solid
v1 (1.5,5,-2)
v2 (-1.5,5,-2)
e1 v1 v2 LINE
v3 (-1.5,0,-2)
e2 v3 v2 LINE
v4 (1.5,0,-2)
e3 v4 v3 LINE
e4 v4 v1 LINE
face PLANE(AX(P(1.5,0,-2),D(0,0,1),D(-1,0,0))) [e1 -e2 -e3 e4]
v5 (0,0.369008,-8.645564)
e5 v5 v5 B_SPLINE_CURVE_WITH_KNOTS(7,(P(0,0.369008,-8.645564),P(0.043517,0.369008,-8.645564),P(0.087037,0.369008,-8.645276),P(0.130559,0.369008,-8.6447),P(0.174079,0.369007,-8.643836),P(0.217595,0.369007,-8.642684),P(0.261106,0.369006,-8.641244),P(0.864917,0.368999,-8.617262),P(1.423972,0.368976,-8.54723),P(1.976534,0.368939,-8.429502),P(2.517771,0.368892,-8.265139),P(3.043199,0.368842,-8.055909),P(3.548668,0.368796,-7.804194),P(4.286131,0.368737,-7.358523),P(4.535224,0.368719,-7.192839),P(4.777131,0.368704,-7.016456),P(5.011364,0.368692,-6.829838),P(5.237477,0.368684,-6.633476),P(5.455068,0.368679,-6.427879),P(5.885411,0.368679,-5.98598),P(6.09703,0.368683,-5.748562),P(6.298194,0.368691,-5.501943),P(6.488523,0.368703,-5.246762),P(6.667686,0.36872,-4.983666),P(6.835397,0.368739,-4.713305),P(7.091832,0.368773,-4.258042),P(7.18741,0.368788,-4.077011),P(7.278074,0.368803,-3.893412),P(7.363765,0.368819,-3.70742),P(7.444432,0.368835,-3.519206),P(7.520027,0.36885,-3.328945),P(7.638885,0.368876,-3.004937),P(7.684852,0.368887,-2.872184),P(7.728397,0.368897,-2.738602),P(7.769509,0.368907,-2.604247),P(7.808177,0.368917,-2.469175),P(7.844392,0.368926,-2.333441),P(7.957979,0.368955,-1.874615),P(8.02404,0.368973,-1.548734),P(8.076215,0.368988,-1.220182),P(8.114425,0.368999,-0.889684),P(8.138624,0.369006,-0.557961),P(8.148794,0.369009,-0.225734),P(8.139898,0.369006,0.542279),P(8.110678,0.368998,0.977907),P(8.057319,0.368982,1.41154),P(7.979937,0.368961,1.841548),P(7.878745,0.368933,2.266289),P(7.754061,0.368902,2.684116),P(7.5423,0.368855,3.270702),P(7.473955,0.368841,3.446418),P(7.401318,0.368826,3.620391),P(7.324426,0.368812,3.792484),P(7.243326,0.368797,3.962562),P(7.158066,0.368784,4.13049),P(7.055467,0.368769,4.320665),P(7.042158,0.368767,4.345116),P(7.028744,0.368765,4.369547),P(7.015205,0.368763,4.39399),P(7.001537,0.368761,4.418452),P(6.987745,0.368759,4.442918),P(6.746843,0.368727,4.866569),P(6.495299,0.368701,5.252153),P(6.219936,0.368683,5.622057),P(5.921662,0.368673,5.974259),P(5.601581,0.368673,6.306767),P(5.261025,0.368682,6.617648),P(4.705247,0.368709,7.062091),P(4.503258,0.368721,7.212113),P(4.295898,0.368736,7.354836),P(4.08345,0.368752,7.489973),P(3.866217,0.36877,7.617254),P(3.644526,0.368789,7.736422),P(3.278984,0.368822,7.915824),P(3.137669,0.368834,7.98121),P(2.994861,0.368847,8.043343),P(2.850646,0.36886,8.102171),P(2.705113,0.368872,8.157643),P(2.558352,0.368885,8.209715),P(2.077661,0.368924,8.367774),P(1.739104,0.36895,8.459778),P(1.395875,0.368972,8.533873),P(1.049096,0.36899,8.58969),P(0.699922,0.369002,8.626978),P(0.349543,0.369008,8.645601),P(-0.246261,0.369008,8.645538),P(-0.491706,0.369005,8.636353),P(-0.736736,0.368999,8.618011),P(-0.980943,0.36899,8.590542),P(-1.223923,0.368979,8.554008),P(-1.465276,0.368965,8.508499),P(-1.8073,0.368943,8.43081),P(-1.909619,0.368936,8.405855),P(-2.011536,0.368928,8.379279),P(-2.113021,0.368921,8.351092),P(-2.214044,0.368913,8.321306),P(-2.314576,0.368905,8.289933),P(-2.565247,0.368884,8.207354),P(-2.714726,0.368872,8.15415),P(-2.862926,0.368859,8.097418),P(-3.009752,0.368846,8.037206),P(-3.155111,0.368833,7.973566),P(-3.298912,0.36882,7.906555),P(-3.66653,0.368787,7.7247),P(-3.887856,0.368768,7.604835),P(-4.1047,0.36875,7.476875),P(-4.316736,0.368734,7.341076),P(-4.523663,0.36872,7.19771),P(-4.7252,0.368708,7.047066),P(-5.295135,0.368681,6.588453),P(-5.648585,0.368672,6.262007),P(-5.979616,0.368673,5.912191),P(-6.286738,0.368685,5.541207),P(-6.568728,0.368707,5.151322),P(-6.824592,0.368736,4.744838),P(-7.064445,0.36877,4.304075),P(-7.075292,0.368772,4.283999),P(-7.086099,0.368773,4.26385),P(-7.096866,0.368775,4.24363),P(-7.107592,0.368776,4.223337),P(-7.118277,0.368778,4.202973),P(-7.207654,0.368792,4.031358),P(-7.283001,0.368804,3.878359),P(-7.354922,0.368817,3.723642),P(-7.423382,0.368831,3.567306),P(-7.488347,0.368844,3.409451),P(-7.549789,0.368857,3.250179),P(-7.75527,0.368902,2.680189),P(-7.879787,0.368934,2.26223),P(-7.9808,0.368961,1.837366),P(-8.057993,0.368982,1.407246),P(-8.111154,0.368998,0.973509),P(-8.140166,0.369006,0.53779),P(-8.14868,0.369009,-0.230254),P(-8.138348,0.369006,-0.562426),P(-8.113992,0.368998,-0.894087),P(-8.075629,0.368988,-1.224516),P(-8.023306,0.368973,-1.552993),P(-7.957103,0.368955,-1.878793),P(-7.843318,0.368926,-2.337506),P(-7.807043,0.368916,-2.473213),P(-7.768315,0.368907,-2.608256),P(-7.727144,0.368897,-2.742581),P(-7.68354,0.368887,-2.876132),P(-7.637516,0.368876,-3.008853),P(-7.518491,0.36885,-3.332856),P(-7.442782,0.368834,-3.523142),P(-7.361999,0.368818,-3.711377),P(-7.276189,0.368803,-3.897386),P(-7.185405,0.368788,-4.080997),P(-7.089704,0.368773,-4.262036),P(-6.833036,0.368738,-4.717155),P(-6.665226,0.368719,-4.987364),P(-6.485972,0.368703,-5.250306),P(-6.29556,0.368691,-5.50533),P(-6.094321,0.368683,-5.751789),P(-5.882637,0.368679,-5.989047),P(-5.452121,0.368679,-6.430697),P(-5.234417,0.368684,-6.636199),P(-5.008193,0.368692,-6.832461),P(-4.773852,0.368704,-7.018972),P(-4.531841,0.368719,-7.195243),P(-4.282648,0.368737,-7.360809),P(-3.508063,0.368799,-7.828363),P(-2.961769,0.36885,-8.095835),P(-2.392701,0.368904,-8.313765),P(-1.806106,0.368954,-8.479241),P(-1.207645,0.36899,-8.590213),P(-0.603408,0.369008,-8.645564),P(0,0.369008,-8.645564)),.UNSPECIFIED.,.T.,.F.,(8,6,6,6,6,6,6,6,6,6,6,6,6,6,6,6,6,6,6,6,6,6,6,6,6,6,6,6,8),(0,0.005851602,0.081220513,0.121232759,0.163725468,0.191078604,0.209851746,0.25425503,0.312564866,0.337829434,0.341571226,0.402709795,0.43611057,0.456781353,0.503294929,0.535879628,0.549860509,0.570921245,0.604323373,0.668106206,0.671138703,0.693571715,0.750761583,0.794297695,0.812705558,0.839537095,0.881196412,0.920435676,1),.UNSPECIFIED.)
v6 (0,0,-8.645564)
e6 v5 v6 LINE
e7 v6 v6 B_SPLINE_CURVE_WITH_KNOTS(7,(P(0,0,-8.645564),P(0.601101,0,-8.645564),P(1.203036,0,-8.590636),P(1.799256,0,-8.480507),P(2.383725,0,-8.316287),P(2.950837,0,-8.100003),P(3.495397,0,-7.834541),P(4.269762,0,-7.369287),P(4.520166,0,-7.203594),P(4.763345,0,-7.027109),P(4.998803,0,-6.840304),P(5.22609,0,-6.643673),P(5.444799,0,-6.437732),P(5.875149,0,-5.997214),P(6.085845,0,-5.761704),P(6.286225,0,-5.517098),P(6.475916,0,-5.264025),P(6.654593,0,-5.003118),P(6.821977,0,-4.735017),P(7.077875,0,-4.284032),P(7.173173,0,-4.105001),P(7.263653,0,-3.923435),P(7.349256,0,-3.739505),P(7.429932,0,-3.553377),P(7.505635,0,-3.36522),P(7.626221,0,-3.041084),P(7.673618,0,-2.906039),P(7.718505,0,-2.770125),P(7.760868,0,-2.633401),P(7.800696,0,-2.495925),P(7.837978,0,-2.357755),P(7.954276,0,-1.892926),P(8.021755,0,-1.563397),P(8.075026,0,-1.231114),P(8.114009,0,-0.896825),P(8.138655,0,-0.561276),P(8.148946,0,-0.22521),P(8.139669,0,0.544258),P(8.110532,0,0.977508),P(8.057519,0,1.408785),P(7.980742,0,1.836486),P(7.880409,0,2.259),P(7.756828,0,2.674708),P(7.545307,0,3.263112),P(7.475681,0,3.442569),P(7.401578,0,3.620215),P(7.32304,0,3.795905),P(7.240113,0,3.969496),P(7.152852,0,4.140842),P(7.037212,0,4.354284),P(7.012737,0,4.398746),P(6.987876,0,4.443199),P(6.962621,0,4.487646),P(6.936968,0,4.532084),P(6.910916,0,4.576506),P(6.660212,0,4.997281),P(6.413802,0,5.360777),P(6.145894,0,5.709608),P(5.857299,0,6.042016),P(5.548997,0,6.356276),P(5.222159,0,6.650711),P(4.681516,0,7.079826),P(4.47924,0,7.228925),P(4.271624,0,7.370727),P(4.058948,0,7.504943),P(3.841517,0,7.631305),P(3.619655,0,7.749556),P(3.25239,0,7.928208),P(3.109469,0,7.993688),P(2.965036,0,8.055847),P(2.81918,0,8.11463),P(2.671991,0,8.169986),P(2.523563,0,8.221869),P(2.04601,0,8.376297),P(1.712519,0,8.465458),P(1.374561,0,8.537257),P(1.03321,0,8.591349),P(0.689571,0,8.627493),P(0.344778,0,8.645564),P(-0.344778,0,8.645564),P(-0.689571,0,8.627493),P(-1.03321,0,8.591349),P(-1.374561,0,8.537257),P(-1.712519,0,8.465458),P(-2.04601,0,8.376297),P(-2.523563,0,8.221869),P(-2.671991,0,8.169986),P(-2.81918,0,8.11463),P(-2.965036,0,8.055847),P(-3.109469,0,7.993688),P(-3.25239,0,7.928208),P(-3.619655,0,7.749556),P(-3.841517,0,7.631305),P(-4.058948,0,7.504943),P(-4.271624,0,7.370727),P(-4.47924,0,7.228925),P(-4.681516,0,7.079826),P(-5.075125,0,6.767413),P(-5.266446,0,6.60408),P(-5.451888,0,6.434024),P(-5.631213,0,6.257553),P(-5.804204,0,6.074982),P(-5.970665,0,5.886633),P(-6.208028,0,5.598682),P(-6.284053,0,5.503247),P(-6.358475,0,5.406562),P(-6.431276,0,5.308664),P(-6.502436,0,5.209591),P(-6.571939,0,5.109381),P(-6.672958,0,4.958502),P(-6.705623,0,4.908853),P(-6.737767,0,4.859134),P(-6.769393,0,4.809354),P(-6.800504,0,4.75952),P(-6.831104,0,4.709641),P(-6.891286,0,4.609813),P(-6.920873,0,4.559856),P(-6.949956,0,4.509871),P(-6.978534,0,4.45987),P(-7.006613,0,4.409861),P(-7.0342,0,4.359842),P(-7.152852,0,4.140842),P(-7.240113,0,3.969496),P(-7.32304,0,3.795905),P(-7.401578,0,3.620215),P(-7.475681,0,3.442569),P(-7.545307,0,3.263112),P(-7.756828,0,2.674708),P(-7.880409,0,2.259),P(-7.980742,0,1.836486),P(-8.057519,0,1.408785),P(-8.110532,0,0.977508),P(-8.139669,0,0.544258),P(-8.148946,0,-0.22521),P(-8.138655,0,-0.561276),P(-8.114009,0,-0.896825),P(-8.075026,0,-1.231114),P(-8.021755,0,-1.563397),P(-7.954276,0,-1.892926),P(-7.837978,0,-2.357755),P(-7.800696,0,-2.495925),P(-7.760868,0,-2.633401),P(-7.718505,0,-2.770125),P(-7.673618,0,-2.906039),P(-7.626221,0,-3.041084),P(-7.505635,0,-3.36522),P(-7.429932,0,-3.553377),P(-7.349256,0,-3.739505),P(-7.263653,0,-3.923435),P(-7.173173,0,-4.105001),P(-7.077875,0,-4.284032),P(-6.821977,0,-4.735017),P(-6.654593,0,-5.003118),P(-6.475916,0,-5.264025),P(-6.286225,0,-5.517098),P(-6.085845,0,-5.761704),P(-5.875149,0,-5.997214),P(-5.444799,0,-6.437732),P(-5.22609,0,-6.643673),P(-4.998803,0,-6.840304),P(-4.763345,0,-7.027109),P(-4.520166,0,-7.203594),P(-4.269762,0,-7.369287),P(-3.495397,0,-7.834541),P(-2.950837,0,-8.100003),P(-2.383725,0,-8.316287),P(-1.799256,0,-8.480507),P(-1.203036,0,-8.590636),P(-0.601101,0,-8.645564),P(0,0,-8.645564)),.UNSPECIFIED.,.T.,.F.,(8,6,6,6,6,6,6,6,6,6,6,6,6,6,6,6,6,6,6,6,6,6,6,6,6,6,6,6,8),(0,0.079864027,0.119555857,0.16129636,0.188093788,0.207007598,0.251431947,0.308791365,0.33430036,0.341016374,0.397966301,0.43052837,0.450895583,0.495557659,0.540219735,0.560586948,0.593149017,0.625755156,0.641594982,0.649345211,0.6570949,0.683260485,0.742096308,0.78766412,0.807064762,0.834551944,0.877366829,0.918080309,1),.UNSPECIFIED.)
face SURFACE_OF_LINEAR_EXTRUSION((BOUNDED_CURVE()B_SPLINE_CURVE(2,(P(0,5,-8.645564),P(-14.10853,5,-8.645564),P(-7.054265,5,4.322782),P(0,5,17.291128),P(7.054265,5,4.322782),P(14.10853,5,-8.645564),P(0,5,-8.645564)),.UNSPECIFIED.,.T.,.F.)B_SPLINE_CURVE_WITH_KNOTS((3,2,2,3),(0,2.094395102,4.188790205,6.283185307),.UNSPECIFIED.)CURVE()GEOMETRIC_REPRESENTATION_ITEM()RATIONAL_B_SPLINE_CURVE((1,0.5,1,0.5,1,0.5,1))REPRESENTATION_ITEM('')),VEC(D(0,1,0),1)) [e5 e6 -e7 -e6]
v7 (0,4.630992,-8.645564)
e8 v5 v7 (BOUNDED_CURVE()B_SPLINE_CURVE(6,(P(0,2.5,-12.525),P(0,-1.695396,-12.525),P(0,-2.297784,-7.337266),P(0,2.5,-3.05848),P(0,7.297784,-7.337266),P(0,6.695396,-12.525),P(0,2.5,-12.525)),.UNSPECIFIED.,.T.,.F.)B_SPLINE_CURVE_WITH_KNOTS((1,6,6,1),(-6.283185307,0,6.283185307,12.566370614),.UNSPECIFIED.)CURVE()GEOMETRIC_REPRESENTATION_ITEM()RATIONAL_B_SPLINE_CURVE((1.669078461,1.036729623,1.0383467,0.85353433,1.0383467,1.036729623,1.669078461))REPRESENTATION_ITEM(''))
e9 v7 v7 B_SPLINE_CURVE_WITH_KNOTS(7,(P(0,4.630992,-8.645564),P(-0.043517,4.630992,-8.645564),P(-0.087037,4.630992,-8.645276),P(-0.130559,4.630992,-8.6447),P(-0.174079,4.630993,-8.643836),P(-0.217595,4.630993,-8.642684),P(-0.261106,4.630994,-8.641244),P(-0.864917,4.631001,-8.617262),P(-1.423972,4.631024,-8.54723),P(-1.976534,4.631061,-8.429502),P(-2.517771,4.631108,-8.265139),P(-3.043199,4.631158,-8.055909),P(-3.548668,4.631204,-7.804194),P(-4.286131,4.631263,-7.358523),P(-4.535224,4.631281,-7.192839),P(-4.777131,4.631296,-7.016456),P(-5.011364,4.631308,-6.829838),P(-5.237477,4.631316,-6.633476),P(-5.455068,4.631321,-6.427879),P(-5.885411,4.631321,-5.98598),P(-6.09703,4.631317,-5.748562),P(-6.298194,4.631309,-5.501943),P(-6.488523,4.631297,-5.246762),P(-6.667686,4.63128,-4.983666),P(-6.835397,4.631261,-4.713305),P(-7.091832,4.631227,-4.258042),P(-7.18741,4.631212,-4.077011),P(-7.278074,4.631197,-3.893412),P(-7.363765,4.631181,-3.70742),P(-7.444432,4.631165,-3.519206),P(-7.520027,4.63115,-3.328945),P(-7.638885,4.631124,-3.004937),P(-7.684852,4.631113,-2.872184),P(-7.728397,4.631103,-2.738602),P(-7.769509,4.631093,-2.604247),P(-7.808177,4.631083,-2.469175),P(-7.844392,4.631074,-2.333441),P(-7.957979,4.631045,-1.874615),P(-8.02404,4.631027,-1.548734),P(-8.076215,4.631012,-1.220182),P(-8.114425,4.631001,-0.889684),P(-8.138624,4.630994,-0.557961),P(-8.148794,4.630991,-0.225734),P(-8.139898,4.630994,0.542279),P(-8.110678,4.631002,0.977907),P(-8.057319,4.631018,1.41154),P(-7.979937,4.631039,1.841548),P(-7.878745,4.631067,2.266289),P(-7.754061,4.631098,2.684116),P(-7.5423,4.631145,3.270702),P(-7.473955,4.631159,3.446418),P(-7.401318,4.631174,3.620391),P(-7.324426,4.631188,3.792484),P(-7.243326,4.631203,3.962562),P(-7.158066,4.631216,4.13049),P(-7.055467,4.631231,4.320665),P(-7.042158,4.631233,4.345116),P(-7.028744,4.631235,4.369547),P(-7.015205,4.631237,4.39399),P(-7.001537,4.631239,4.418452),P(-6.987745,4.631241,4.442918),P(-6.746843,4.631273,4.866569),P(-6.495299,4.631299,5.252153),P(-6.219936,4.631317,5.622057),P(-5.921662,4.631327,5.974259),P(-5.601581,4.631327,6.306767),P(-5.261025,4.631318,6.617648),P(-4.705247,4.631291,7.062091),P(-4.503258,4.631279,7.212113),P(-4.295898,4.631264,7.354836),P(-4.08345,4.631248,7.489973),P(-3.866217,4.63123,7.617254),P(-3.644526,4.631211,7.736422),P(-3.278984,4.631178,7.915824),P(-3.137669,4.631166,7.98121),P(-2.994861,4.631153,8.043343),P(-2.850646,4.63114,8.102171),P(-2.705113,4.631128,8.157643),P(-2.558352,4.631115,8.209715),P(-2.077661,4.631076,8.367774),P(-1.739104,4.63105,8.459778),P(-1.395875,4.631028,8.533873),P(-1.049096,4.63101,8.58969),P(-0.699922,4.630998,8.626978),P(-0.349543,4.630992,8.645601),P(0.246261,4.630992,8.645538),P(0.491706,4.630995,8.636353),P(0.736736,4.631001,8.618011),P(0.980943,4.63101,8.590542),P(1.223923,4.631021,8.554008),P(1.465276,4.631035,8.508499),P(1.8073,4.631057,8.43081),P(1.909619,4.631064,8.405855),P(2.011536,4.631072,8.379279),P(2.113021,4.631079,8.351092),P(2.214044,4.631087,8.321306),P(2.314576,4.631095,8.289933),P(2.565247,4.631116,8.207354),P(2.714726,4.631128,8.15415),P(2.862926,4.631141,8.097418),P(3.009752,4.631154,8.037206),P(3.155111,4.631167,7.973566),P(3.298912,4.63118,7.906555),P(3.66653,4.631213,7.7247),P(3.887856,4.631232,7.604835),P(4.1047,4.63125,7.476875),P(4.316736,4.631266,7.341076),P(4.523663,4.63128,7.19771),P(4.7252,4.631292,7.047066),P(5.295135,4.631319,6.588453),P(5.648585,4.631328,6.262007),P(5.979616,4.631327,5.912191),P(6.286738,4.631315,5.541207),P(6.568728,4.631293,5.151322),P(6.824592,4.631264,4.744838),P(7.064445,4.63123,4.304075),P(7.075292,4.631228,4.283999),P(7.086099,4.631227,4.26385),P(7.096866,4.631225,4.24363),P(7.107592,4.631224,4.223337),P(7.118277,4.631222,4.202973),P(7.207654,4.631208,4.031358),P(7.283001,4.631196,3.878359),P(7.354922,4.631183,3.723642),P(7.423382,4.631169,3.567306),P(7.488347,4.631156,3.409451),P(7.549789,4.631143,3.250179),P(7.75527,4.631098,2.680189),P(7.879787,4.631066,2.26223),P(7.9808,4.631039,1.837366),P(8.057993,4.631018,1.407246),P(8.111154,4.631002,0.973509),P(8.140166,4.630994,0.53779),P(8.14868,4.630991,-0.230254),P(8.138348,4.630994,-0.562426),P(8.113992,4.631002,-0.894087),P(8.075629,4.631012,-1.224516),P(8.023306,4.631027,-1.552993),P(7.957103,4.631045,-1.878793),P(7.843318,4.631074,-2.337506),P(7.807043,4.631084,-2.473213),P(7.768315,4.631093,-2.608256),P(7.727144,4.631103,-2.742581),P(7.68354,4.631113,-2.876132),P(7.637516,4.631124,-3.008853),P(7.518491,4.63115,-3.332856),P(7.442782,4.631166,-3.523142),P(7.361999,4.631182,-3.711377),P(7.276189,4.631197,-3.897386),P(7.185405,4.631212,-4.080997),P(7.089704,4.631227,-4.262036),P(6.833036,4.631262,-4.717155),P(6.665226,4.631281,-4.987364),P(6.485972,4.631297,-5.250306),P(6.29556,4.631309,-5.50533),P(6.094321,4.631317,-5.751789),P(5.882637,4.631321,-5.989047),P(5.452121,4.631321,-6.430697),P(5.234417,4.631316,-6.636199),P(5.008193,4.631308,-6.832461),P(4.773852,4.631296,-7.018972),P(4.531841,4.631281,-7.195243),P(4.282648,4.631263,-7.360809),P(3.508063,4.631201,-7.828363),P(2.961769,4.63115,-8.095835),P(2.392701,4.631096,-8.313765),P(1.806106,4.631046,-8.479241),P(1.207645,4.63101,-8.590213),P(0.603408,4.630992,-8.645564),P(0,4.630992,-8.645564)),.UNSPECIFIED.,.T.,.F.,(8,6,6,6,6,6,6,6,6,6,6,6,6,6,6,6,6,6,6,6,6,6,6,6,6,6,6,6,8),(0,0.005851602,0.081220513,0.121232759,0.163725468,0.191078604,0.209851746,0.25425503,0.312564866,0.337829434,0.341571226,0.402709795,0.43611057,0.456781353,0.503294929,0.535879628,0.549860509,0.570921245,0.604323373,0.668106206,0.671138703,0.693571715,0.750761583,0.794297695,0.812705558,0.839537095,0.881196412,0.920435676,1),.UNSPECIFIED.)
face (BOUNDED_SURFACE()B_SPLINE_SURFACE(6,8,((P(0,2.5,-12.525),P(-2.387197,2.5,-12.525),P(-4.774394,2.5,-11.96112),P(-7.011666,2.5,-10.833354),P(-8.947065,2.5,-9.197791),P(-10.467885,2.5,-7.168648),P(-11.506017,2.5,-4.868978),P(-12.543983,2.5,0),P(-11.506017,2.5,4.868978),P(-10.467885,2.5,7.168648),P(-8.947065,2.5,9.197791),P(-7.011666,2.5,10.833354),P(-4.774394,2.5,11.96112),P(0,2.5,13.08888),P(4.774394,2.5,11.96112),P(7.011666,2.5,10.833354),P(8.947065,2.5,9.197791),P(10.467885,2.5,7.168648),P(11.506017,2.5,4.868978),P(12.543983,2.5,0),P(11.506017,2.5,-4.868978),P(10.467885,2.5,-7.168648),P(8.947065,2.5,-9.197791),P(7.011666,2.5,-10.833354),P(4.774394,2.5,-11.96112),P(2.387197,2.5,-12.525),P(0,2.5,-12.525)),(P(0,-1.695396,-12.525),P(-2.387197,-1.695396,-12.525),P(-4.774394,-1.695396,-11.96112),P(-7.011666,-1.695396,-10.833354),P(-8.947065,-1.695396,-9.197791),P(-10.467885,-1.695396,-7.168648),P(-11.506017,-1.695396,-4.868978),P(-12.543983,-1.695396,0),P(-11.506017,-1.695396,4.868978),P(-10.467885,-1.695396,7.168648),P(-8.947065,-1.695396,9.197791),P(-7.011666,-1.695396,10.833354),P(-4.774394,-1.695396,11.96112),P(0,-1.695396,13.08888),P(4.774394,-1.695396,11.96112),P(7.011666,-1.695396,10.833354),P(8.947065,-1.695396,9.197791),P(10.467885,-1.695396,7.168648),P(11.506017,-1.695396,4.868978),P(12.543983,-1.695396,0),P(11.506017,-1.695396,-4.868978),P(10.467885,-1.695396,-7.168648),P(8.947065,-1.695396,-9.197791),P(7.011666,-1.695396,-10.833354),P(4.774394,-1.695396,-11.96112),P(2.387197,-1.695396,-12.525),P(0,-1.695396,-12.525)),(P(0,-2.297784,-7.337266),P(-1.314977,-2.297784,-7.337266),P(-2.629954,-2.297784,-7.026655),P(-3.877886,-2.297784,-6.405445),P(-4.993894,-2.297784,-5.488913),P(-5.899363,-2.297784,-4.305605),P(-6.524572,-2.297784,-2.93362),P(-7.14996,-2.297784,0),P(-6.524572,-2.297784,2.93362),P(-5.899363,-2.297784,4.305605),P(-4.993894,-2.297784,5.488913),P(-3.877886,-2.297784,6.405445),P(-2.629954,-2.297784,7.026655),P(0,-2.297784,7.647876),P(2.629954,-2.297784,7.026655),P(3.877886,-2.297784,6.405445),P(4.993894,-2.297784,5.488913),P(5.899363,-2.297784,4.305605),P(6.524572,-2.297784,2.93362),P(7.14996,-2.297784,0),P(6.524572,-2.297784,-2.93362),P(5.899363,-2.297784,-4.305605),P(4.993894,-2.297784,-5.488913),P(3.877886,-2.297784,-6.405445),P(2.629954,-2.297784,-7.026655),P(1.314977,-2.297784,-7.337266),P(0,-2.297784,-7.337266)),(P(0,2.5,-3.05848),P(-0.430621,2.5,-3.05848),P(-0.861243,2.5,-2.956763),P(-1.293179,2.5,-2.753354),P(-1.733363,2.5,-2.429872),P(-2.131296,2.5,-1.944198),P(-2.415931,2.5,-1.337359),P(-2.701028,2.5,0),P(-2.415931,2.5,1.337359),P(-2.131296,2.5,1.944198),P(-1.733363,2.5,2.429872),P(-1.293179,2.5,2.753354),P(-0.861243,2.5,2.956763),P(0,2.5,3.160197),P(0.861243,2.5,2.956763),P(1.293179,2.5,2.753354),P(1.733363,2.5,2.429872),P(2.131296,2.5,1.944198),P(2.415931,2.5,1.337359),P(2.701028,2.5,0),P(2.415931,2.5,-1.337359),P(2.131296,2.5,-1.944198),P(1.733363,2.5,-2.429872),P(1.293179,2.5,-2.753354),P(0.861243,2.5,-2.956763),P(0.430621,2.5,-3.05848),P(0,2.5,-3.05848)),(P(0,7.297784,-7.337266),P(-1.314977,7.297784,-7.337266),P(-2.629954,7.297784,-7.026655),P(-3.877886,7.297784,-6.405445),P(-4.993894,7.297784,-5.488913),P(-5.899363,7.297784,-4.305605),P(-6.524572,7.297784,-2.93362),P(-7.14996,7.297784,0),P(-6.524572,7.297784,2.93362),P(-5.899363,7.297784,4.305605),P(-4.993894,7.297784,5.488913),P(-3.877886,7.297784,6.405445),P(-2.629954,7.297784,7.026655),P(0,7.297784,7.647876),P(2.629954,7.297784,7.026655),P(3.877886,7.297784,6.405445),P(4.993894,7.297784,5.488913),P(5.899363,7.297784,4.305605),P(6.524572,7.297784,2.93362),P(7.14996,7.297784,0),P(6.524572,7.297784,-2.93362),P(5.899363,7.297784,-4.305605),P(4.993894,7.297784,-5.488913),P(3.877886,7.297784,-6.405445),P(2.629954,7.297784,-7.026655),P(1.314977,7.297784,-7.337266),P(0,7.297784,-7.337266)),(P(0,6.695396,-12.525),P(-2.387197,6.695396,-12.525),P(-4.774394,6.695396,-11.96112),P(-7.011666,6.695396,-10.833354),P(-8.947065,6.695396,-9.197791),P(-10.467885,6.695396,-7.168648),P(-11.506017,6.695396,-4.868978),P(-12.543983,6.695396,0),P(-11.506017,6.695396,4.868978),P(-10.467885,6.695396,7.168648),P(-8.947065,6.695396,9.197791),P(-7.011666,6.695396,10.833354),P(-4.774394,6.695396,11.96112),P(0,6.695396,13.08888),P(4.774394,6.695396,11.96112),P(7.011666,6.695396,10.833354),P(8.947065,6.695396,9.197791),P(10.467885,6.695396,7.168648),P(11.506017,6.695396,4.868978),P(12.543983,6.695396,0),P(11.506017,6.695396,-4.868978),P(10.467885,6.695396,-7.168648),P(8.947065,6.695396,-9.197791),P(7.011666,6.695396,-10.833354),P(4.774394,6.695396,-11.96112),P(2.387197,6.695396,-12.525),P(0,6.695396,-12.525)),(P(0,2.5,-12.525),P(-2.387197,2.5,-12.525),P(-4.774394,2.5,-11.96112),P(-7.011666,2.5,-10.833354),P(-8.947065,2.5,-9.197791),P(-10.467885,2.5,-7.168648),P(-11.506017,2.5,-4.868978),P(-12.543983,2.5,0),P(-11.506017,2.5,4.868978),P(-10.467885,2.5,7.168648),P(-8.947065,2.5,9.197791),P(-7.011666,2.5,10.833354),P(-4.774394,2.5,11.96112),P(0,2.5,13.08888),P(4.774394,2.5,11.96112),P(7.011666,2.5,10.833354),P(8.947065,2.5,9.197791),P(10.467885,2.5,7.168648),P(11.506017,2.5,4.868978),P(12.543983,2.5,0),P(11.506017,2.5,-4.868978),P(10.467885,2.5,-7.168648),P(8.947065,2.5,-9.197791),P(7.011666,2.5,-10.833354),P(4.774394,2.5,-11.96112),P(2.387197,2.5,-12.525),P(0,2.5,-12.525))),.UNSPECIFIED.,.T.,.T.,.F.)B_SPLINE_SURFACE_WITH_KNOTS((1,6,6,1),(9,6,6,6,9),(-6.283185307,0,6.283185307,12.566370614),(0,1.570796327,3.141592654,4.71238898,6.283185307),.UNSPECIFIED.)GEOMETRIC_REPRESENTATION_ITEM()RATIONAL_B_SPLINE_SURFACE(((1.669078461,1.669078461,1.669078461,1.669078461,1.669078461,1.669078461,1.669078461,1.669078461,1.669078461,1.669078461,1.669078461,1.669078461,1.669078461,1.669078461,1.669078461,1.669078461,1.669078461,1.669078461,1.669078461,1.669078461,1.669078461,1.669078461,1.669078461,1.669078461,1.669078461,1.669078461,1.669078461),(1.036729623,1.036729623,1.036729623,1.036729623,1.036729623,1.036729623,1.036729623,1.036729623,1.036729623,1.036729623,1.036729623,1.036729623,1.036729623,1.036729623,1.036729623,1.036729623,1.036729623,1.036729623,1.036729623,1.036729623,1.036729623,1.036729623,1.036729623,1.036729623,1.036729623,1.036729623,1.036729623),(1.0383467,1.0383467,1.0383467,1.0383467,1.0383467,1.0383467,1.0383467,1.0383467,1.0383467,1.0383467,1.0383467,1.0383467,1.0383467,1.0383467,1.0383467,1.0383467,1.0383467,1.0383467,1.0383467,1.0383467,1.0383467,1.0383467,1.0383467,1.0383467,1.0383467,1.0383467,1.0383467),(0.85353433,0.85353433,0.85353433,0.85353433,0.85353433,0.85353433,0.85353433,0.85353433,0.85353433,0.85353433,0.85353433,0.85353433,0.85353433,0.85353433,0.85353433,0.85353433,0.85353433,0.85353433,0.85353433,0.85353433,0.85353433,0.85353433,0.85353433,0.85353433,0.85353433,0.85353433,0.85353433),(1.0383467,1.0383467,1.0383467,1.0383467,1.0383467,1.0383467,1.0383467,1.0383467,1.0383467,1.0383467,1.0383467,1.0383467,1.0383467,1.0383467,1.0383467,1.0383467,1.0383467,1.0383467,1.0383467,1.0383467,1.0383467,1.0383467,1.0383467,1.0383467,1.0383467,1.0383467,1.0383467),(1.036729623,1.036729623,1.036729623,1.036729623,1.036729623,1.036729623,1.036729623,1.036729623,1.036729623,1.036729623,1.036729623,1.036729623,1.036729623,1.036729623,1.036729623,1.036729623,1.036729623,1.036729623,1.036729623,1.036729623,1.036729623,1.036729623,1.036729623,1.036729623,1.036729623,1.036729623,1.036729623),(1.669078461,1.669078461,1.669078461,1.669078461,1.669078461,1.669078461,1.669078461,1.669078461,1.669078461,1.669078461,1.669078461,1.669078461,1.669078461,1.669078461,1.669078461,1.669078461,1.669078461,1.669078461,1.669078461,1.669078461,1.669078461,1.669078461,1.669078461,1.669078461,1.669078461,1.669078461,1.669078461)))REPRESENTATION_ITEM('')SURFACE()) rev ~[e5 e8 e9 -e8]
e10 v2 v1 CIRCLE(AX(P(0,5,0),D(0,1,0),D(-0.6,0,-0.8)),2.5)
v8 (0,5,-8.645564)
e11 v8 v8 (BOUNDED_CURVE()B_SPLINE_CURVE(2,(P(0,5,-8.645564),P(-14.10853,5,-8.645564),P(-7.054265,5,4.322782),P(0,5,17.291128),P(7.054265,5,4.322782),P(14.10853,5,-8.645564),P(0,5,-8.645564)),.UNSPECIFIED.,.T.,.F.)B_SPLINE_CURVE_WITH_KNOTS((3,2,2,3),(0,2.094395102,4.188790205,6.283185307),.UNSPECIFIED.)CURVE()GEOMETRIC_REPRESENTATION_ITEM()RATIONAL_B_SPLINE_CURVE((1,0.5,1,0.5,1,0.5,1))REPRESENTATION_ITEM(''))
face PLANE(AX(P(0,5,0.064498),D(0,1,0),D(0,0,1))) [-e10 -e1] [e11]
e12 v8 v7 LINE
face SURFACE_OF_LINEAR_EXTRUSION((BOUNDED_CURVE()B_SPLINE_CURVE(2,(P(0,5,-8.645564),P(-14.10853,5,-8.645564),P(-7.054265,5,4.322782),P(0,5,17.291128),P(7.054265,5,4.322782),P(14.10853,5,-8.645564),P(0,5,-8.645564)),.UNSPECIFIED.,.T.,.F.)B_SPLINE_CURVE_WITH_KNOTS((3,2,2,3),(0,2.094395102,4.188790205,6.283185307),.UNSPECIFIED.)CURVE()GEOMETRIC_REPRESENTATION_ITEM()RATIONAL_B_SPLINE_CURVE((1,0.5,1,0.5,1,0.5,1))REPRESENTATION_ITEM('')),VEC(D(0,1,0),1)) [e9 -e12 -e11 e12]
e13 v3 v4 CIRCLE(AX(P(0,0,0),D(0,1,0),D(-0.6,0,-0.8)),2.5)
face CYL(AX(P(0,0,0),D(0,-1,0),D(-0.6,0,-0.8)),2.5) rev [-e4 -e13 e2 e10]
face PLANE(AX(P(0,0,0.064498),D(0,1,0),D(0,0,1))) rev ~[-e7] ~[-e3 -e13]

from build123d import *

# Parameters (mm, degrees)
SKETCH1_RX           = 10
SKETCH1_RY           = 9.5
BOSS_EXTRUDE1_DEPTH  = 5
CUT_SWEEP3_PROFILE_R = 2.525
CUT_EXTRUDE1_DEPTH   = 10


with BuildPart() as part:
    # Sketch1 → Boss-Extrude1 (new body)
    with BuildSketch(Plane(origin=(0, 0, 0), x_dir=(1, 0, 0), z_dir=(0, 1, 0))):
        with Locations(Location((0, 0), (0, 0, -90))):
            Ellipse(SKETCH1_RX, SKETCH1_RY)
        with BuildLine():
            Line((1.5, 2), (-1.5, 2))
            ThreePointArc((-1.5, 2), (0, -2.5), (1.5, 2))
        make_face(mode=Mode.SUBTRACT)
    extrude(amount=BOSS_EXTRUDE1_DEPTH)

    # Cut-Sweep3: sweep along a path in Sketch2
    with BuildLine(Plane(origin=(0, 2.5, 0), x_dir=(1, 0, 0), z_dir=(0, 1, 0))) as cut_sweep3_path:
        EllipticalCenterArc((0, 0), 10, 9.5, start_angle=0, arc_size=360, rotation=90)
    # Cut-Sweep3 profile (on start of the path) → Cut-Sweep3 (sweep, cut)
    with BuildSketch(Plane(origin=(0, 2.5, -10), x_dir=(0, 0, -1), z_dir=(-1, 0, 0))):
        Circle(CUT_SWEEP3_PROFILE_R)
    sweep(path=cut_sweep3_path.line, mode=Mode.SUBTRACT)

    # Sketch27 → Cut-Extrude1 (cut)
    with BuildSketch(Plane(origin=(0, 5, 0), x_dir=(1, 0, 0), z_dir=(0, 1, 0))):
        with BuildLine():
            add(Edge.make_bspline(
                [(0, 9.645563828), (-0.758503038, 9.645564212), (-1.517286769, 9.565936878), (-2.265269624, 9.406585941), (-2.992455116, 9.170179622), (-3.689674481, 8.860976866), (-4.696144743, 8.287182833), (-5.033026907, 8.070588817), (-5.358216994, 7.836342416), (-5.670696822, 7.585404274), (-5.969566199, 7.318802839), (-6.549656622, 6.745390623), (-6.829730147, 6.43740695), (-7.093360483, 6.114870941), (-7.339798208, 5.779026576), (-7.568414863, 5.431140244), (-7.915330171, 4.839411915), (-8.044227667, 4.601789408), (-8.165234512, 4.359968222), (-8.278225476, 4.114297866), (-8.383092616, 3.865127725), (-8.544534604, 3.443668275), (-8.605632529, 3.273113696), (-8.663011537, 3.101248396), (-8.716647121, 2.92817725), (-8.766517763, 2.75400493), (-8.923174946, 2.158579308), (-9.01196691, 1.732587012), (-9.078724913, 1.302299066), (-9.123283905, 0.869151703), (-9.145563846, 0.434576578), (-9.145564011, -0.615715948), (-9.100839273, -1.23142422), (-9.011395422, -1.843077139), (-8.877549469, -2.446595628), (-8.699974619, -3.037877718), (-8.383092616, -3.865127725), (-8.278225476, -4.114297866), (-8.165234512, -4.359968222), (-8.044227667, -4.601789408), (-7.915330171, -4.839411915), (-7.568414863, -5.431140244), (-7.339798208, -5.779026576), (-7.093360483, -6.114870941), (-6.829730147, -6.43740695), (-6.549656622, -6.745390623), (-5.969566199, -7.318802839), (-5.670696822, -7.585404274), (-5.358216994, -7.836342416), (-5.033026907, -8.070588817), (-4.696144743, -8.287182833), (-4.13905593, -8.604782026), (-3.925549732, -8.717568059), (-3.7084536, -8.823417013), (-3.488032874, -8.922152617), (-3.264566937, -9.013614419), (-2.553432563, -9.27781212), (-2.055830142, -9.423897373), (-1.548503321, -9.534463128), (-1.034563212, -9.608533948), (-0.517259644, -9.645563847), (0.363597835, -9.645563938), (0.727203338, -9.627266619), (1.0896503, -9.590672341), (1.449798692, -9.53590758), (1.806534427, -9.463219718), (2.307638251, -9.334829516), (2.455704757, -9.29355013), (2.602887518, -9.249161075), (2.749107212, -9.201692908), (2.894286337, -9.151179449), (3.264566937, -9.013614419), (3.488032874, -8.922152617), (3.7084536, -8.823417013), (3.925549732, -8.717568059), (4.13905593, -8.604782026), (4.696144743, -8.287182833), (5.033026907, -8.070588817), (5.358216994, -7.836342416), (5.670696822, -7.585404274), (5.969566199, -7.318802839), (6.549656622, -6.745390623), (6.829730147, -6.43740695), (7.093360483, -6.114870941), (7.339798208, -5.779026576), (7.568414863, -5.431140244), (7.915330171, -4.839411915), (8.044227667, -4.601789408), (8.165234512, -4.359968222), (8.278225476, -4.114297866), (8.383092616, -3.865127725), (8.544534604, -3.443668275), (8.605632529, -3.273113696), (8.663011537, -3.101248396), (8.716647121, -2.92817725), (8.766517763, -2.75400493), (8.923174946, -2.158579308), (9.01196691, -1.732587012), (9.078724913, -1.302299066), (9.123283905, -0.869151703), (9.145563846, -0.434576578), (9.145564011, 0.615715948), (9.100839273, 1.23142422), (9.011395422, 1.843077139), (8.877549469, 2.446595628), (8.699974619, 3.037877718), (8.383092616, 3.865127725), (8.278225476, 4.114297866), (8.165234512, 4.359968222), (8.044227667, 4.601789408), (7.915330171, 4.839411915), (7.568414863, 5.431140244), (7.339798208, 5.779026576), (7.093360483, 6.114870941), (6.829730147, 6.43740695), (6.549656622, 6.745390623), (5.969566199, 7.318802839), (5.670696822, 7.585404274), (5.358216994, 7.836342416), (5.033026907, 8.070588817), (4.696144743, 8.287182833), (3.689674481, 8.860976866), (2.992455116, 9.170179622), (2.265269624, 9.406585941), (1.517286769, 9.565936878), (0.758503038, 9.645564212), (0, 9.645563828)],
                knots=[0, 0, 0, 0, 0, 0, 0, 0.077105522, 0.077105522, 0.077105522, 0.077105522, 0.077105522, 0.117752543, 0.117752543, 0.117752543, 0.117752543, 0.117752543, 0.159994987, 0.159994987, 0.159994987, 0.159994987, 0.159994987, 0.187446594, 0.187446594, 0.187446594, 0.187446594, 0.187446594, 0.205848296, 0.205848296, 0.205848296, 0.205848296, 0.205848296, 0.249996723, 0.249996723, 0.249996723, 0.249996723, 0.249996723, 0.312546989, 0.312546989, 0.312546989, 0.312546989, 0.312546989, 0.339998577, 0.339998577, 0.339998577, 0.339998577, 0.339998577, 0.382240994, 0.382240994, 0.382240994, 0.382240994, 0.382240994, 0.422887987, 0.422887987, 0.422887987, 0.422887987, 0.422887987, 0.447417833, 0.447417833, 0.447417833, 0.447417833, 0.447417833, 0.499999598, 0.499999598, 0.499999598, 0.499999598, 0.499999598, 0.536960946, 0.536960946, 0.536960946, 0.536960946, 0.536960946, 0.552582358, 0.552582358, 0.552582358, 0.552582358, 0.552582358, 0.577112212, 0.577112212, 0.577112212, 0.577112212, 0.577112212, 0.617759218, 0.617759218, 0.617759218, 0.617759218, 0.617759218, 0.660001648, 0.660001648, 0.660001648, 0.660001648, 0.660001648, 0.687453245, 0.687453245, 0.687453245, 0.687453245, 0.687453245, 0.705854941, 0.705854941, 0.705854941, 0.705854941, 0.705854941, 0.750003353, 0.750003353, 0.750003353, 0.750003353, 0.750003353, 0.812553596, 0.812553596, 0.812553596, 0.812553596, 0.812553596, 0.840005175, 0.840005175, 0.840005175, 0.840005175, 0.840005175, 0.882247577, 0.882247577, 0.882247577, 0.882247577, 0.882247577, 0.922894556, 0.922894556, 0.922894556, 0.922894556, 0.922894556, 1, 1, 1, 1, 1, 1, 1], degree=6))
        make_face()
        with BuildLine():
            add(Edge.make_bspline(
                [(0, 8.645563828), (-14.108530406, 8.645563828), (-7.054265203, -4.322781914), (0, -17.291127656), (7.054265203, -4.322781914), (14.108530406, 8.645563828), (0, 8.645563828)],
                knots=[0, 0, 0, 2.094395102, 2.094395102, 4.188790205, 4.188790205, 6.283185307, 6.283185307, 6.283185307], degree=2, weights=[1, 0.5, 1, 0.5, 1, 0.5, 1]))
        make_face(mode=Mode.SUBTRACT)
    extrude(amount=-CUT_EXTRUDE1_DEPTH, mode=Mode.SUBTRACT)


solid = part.part
